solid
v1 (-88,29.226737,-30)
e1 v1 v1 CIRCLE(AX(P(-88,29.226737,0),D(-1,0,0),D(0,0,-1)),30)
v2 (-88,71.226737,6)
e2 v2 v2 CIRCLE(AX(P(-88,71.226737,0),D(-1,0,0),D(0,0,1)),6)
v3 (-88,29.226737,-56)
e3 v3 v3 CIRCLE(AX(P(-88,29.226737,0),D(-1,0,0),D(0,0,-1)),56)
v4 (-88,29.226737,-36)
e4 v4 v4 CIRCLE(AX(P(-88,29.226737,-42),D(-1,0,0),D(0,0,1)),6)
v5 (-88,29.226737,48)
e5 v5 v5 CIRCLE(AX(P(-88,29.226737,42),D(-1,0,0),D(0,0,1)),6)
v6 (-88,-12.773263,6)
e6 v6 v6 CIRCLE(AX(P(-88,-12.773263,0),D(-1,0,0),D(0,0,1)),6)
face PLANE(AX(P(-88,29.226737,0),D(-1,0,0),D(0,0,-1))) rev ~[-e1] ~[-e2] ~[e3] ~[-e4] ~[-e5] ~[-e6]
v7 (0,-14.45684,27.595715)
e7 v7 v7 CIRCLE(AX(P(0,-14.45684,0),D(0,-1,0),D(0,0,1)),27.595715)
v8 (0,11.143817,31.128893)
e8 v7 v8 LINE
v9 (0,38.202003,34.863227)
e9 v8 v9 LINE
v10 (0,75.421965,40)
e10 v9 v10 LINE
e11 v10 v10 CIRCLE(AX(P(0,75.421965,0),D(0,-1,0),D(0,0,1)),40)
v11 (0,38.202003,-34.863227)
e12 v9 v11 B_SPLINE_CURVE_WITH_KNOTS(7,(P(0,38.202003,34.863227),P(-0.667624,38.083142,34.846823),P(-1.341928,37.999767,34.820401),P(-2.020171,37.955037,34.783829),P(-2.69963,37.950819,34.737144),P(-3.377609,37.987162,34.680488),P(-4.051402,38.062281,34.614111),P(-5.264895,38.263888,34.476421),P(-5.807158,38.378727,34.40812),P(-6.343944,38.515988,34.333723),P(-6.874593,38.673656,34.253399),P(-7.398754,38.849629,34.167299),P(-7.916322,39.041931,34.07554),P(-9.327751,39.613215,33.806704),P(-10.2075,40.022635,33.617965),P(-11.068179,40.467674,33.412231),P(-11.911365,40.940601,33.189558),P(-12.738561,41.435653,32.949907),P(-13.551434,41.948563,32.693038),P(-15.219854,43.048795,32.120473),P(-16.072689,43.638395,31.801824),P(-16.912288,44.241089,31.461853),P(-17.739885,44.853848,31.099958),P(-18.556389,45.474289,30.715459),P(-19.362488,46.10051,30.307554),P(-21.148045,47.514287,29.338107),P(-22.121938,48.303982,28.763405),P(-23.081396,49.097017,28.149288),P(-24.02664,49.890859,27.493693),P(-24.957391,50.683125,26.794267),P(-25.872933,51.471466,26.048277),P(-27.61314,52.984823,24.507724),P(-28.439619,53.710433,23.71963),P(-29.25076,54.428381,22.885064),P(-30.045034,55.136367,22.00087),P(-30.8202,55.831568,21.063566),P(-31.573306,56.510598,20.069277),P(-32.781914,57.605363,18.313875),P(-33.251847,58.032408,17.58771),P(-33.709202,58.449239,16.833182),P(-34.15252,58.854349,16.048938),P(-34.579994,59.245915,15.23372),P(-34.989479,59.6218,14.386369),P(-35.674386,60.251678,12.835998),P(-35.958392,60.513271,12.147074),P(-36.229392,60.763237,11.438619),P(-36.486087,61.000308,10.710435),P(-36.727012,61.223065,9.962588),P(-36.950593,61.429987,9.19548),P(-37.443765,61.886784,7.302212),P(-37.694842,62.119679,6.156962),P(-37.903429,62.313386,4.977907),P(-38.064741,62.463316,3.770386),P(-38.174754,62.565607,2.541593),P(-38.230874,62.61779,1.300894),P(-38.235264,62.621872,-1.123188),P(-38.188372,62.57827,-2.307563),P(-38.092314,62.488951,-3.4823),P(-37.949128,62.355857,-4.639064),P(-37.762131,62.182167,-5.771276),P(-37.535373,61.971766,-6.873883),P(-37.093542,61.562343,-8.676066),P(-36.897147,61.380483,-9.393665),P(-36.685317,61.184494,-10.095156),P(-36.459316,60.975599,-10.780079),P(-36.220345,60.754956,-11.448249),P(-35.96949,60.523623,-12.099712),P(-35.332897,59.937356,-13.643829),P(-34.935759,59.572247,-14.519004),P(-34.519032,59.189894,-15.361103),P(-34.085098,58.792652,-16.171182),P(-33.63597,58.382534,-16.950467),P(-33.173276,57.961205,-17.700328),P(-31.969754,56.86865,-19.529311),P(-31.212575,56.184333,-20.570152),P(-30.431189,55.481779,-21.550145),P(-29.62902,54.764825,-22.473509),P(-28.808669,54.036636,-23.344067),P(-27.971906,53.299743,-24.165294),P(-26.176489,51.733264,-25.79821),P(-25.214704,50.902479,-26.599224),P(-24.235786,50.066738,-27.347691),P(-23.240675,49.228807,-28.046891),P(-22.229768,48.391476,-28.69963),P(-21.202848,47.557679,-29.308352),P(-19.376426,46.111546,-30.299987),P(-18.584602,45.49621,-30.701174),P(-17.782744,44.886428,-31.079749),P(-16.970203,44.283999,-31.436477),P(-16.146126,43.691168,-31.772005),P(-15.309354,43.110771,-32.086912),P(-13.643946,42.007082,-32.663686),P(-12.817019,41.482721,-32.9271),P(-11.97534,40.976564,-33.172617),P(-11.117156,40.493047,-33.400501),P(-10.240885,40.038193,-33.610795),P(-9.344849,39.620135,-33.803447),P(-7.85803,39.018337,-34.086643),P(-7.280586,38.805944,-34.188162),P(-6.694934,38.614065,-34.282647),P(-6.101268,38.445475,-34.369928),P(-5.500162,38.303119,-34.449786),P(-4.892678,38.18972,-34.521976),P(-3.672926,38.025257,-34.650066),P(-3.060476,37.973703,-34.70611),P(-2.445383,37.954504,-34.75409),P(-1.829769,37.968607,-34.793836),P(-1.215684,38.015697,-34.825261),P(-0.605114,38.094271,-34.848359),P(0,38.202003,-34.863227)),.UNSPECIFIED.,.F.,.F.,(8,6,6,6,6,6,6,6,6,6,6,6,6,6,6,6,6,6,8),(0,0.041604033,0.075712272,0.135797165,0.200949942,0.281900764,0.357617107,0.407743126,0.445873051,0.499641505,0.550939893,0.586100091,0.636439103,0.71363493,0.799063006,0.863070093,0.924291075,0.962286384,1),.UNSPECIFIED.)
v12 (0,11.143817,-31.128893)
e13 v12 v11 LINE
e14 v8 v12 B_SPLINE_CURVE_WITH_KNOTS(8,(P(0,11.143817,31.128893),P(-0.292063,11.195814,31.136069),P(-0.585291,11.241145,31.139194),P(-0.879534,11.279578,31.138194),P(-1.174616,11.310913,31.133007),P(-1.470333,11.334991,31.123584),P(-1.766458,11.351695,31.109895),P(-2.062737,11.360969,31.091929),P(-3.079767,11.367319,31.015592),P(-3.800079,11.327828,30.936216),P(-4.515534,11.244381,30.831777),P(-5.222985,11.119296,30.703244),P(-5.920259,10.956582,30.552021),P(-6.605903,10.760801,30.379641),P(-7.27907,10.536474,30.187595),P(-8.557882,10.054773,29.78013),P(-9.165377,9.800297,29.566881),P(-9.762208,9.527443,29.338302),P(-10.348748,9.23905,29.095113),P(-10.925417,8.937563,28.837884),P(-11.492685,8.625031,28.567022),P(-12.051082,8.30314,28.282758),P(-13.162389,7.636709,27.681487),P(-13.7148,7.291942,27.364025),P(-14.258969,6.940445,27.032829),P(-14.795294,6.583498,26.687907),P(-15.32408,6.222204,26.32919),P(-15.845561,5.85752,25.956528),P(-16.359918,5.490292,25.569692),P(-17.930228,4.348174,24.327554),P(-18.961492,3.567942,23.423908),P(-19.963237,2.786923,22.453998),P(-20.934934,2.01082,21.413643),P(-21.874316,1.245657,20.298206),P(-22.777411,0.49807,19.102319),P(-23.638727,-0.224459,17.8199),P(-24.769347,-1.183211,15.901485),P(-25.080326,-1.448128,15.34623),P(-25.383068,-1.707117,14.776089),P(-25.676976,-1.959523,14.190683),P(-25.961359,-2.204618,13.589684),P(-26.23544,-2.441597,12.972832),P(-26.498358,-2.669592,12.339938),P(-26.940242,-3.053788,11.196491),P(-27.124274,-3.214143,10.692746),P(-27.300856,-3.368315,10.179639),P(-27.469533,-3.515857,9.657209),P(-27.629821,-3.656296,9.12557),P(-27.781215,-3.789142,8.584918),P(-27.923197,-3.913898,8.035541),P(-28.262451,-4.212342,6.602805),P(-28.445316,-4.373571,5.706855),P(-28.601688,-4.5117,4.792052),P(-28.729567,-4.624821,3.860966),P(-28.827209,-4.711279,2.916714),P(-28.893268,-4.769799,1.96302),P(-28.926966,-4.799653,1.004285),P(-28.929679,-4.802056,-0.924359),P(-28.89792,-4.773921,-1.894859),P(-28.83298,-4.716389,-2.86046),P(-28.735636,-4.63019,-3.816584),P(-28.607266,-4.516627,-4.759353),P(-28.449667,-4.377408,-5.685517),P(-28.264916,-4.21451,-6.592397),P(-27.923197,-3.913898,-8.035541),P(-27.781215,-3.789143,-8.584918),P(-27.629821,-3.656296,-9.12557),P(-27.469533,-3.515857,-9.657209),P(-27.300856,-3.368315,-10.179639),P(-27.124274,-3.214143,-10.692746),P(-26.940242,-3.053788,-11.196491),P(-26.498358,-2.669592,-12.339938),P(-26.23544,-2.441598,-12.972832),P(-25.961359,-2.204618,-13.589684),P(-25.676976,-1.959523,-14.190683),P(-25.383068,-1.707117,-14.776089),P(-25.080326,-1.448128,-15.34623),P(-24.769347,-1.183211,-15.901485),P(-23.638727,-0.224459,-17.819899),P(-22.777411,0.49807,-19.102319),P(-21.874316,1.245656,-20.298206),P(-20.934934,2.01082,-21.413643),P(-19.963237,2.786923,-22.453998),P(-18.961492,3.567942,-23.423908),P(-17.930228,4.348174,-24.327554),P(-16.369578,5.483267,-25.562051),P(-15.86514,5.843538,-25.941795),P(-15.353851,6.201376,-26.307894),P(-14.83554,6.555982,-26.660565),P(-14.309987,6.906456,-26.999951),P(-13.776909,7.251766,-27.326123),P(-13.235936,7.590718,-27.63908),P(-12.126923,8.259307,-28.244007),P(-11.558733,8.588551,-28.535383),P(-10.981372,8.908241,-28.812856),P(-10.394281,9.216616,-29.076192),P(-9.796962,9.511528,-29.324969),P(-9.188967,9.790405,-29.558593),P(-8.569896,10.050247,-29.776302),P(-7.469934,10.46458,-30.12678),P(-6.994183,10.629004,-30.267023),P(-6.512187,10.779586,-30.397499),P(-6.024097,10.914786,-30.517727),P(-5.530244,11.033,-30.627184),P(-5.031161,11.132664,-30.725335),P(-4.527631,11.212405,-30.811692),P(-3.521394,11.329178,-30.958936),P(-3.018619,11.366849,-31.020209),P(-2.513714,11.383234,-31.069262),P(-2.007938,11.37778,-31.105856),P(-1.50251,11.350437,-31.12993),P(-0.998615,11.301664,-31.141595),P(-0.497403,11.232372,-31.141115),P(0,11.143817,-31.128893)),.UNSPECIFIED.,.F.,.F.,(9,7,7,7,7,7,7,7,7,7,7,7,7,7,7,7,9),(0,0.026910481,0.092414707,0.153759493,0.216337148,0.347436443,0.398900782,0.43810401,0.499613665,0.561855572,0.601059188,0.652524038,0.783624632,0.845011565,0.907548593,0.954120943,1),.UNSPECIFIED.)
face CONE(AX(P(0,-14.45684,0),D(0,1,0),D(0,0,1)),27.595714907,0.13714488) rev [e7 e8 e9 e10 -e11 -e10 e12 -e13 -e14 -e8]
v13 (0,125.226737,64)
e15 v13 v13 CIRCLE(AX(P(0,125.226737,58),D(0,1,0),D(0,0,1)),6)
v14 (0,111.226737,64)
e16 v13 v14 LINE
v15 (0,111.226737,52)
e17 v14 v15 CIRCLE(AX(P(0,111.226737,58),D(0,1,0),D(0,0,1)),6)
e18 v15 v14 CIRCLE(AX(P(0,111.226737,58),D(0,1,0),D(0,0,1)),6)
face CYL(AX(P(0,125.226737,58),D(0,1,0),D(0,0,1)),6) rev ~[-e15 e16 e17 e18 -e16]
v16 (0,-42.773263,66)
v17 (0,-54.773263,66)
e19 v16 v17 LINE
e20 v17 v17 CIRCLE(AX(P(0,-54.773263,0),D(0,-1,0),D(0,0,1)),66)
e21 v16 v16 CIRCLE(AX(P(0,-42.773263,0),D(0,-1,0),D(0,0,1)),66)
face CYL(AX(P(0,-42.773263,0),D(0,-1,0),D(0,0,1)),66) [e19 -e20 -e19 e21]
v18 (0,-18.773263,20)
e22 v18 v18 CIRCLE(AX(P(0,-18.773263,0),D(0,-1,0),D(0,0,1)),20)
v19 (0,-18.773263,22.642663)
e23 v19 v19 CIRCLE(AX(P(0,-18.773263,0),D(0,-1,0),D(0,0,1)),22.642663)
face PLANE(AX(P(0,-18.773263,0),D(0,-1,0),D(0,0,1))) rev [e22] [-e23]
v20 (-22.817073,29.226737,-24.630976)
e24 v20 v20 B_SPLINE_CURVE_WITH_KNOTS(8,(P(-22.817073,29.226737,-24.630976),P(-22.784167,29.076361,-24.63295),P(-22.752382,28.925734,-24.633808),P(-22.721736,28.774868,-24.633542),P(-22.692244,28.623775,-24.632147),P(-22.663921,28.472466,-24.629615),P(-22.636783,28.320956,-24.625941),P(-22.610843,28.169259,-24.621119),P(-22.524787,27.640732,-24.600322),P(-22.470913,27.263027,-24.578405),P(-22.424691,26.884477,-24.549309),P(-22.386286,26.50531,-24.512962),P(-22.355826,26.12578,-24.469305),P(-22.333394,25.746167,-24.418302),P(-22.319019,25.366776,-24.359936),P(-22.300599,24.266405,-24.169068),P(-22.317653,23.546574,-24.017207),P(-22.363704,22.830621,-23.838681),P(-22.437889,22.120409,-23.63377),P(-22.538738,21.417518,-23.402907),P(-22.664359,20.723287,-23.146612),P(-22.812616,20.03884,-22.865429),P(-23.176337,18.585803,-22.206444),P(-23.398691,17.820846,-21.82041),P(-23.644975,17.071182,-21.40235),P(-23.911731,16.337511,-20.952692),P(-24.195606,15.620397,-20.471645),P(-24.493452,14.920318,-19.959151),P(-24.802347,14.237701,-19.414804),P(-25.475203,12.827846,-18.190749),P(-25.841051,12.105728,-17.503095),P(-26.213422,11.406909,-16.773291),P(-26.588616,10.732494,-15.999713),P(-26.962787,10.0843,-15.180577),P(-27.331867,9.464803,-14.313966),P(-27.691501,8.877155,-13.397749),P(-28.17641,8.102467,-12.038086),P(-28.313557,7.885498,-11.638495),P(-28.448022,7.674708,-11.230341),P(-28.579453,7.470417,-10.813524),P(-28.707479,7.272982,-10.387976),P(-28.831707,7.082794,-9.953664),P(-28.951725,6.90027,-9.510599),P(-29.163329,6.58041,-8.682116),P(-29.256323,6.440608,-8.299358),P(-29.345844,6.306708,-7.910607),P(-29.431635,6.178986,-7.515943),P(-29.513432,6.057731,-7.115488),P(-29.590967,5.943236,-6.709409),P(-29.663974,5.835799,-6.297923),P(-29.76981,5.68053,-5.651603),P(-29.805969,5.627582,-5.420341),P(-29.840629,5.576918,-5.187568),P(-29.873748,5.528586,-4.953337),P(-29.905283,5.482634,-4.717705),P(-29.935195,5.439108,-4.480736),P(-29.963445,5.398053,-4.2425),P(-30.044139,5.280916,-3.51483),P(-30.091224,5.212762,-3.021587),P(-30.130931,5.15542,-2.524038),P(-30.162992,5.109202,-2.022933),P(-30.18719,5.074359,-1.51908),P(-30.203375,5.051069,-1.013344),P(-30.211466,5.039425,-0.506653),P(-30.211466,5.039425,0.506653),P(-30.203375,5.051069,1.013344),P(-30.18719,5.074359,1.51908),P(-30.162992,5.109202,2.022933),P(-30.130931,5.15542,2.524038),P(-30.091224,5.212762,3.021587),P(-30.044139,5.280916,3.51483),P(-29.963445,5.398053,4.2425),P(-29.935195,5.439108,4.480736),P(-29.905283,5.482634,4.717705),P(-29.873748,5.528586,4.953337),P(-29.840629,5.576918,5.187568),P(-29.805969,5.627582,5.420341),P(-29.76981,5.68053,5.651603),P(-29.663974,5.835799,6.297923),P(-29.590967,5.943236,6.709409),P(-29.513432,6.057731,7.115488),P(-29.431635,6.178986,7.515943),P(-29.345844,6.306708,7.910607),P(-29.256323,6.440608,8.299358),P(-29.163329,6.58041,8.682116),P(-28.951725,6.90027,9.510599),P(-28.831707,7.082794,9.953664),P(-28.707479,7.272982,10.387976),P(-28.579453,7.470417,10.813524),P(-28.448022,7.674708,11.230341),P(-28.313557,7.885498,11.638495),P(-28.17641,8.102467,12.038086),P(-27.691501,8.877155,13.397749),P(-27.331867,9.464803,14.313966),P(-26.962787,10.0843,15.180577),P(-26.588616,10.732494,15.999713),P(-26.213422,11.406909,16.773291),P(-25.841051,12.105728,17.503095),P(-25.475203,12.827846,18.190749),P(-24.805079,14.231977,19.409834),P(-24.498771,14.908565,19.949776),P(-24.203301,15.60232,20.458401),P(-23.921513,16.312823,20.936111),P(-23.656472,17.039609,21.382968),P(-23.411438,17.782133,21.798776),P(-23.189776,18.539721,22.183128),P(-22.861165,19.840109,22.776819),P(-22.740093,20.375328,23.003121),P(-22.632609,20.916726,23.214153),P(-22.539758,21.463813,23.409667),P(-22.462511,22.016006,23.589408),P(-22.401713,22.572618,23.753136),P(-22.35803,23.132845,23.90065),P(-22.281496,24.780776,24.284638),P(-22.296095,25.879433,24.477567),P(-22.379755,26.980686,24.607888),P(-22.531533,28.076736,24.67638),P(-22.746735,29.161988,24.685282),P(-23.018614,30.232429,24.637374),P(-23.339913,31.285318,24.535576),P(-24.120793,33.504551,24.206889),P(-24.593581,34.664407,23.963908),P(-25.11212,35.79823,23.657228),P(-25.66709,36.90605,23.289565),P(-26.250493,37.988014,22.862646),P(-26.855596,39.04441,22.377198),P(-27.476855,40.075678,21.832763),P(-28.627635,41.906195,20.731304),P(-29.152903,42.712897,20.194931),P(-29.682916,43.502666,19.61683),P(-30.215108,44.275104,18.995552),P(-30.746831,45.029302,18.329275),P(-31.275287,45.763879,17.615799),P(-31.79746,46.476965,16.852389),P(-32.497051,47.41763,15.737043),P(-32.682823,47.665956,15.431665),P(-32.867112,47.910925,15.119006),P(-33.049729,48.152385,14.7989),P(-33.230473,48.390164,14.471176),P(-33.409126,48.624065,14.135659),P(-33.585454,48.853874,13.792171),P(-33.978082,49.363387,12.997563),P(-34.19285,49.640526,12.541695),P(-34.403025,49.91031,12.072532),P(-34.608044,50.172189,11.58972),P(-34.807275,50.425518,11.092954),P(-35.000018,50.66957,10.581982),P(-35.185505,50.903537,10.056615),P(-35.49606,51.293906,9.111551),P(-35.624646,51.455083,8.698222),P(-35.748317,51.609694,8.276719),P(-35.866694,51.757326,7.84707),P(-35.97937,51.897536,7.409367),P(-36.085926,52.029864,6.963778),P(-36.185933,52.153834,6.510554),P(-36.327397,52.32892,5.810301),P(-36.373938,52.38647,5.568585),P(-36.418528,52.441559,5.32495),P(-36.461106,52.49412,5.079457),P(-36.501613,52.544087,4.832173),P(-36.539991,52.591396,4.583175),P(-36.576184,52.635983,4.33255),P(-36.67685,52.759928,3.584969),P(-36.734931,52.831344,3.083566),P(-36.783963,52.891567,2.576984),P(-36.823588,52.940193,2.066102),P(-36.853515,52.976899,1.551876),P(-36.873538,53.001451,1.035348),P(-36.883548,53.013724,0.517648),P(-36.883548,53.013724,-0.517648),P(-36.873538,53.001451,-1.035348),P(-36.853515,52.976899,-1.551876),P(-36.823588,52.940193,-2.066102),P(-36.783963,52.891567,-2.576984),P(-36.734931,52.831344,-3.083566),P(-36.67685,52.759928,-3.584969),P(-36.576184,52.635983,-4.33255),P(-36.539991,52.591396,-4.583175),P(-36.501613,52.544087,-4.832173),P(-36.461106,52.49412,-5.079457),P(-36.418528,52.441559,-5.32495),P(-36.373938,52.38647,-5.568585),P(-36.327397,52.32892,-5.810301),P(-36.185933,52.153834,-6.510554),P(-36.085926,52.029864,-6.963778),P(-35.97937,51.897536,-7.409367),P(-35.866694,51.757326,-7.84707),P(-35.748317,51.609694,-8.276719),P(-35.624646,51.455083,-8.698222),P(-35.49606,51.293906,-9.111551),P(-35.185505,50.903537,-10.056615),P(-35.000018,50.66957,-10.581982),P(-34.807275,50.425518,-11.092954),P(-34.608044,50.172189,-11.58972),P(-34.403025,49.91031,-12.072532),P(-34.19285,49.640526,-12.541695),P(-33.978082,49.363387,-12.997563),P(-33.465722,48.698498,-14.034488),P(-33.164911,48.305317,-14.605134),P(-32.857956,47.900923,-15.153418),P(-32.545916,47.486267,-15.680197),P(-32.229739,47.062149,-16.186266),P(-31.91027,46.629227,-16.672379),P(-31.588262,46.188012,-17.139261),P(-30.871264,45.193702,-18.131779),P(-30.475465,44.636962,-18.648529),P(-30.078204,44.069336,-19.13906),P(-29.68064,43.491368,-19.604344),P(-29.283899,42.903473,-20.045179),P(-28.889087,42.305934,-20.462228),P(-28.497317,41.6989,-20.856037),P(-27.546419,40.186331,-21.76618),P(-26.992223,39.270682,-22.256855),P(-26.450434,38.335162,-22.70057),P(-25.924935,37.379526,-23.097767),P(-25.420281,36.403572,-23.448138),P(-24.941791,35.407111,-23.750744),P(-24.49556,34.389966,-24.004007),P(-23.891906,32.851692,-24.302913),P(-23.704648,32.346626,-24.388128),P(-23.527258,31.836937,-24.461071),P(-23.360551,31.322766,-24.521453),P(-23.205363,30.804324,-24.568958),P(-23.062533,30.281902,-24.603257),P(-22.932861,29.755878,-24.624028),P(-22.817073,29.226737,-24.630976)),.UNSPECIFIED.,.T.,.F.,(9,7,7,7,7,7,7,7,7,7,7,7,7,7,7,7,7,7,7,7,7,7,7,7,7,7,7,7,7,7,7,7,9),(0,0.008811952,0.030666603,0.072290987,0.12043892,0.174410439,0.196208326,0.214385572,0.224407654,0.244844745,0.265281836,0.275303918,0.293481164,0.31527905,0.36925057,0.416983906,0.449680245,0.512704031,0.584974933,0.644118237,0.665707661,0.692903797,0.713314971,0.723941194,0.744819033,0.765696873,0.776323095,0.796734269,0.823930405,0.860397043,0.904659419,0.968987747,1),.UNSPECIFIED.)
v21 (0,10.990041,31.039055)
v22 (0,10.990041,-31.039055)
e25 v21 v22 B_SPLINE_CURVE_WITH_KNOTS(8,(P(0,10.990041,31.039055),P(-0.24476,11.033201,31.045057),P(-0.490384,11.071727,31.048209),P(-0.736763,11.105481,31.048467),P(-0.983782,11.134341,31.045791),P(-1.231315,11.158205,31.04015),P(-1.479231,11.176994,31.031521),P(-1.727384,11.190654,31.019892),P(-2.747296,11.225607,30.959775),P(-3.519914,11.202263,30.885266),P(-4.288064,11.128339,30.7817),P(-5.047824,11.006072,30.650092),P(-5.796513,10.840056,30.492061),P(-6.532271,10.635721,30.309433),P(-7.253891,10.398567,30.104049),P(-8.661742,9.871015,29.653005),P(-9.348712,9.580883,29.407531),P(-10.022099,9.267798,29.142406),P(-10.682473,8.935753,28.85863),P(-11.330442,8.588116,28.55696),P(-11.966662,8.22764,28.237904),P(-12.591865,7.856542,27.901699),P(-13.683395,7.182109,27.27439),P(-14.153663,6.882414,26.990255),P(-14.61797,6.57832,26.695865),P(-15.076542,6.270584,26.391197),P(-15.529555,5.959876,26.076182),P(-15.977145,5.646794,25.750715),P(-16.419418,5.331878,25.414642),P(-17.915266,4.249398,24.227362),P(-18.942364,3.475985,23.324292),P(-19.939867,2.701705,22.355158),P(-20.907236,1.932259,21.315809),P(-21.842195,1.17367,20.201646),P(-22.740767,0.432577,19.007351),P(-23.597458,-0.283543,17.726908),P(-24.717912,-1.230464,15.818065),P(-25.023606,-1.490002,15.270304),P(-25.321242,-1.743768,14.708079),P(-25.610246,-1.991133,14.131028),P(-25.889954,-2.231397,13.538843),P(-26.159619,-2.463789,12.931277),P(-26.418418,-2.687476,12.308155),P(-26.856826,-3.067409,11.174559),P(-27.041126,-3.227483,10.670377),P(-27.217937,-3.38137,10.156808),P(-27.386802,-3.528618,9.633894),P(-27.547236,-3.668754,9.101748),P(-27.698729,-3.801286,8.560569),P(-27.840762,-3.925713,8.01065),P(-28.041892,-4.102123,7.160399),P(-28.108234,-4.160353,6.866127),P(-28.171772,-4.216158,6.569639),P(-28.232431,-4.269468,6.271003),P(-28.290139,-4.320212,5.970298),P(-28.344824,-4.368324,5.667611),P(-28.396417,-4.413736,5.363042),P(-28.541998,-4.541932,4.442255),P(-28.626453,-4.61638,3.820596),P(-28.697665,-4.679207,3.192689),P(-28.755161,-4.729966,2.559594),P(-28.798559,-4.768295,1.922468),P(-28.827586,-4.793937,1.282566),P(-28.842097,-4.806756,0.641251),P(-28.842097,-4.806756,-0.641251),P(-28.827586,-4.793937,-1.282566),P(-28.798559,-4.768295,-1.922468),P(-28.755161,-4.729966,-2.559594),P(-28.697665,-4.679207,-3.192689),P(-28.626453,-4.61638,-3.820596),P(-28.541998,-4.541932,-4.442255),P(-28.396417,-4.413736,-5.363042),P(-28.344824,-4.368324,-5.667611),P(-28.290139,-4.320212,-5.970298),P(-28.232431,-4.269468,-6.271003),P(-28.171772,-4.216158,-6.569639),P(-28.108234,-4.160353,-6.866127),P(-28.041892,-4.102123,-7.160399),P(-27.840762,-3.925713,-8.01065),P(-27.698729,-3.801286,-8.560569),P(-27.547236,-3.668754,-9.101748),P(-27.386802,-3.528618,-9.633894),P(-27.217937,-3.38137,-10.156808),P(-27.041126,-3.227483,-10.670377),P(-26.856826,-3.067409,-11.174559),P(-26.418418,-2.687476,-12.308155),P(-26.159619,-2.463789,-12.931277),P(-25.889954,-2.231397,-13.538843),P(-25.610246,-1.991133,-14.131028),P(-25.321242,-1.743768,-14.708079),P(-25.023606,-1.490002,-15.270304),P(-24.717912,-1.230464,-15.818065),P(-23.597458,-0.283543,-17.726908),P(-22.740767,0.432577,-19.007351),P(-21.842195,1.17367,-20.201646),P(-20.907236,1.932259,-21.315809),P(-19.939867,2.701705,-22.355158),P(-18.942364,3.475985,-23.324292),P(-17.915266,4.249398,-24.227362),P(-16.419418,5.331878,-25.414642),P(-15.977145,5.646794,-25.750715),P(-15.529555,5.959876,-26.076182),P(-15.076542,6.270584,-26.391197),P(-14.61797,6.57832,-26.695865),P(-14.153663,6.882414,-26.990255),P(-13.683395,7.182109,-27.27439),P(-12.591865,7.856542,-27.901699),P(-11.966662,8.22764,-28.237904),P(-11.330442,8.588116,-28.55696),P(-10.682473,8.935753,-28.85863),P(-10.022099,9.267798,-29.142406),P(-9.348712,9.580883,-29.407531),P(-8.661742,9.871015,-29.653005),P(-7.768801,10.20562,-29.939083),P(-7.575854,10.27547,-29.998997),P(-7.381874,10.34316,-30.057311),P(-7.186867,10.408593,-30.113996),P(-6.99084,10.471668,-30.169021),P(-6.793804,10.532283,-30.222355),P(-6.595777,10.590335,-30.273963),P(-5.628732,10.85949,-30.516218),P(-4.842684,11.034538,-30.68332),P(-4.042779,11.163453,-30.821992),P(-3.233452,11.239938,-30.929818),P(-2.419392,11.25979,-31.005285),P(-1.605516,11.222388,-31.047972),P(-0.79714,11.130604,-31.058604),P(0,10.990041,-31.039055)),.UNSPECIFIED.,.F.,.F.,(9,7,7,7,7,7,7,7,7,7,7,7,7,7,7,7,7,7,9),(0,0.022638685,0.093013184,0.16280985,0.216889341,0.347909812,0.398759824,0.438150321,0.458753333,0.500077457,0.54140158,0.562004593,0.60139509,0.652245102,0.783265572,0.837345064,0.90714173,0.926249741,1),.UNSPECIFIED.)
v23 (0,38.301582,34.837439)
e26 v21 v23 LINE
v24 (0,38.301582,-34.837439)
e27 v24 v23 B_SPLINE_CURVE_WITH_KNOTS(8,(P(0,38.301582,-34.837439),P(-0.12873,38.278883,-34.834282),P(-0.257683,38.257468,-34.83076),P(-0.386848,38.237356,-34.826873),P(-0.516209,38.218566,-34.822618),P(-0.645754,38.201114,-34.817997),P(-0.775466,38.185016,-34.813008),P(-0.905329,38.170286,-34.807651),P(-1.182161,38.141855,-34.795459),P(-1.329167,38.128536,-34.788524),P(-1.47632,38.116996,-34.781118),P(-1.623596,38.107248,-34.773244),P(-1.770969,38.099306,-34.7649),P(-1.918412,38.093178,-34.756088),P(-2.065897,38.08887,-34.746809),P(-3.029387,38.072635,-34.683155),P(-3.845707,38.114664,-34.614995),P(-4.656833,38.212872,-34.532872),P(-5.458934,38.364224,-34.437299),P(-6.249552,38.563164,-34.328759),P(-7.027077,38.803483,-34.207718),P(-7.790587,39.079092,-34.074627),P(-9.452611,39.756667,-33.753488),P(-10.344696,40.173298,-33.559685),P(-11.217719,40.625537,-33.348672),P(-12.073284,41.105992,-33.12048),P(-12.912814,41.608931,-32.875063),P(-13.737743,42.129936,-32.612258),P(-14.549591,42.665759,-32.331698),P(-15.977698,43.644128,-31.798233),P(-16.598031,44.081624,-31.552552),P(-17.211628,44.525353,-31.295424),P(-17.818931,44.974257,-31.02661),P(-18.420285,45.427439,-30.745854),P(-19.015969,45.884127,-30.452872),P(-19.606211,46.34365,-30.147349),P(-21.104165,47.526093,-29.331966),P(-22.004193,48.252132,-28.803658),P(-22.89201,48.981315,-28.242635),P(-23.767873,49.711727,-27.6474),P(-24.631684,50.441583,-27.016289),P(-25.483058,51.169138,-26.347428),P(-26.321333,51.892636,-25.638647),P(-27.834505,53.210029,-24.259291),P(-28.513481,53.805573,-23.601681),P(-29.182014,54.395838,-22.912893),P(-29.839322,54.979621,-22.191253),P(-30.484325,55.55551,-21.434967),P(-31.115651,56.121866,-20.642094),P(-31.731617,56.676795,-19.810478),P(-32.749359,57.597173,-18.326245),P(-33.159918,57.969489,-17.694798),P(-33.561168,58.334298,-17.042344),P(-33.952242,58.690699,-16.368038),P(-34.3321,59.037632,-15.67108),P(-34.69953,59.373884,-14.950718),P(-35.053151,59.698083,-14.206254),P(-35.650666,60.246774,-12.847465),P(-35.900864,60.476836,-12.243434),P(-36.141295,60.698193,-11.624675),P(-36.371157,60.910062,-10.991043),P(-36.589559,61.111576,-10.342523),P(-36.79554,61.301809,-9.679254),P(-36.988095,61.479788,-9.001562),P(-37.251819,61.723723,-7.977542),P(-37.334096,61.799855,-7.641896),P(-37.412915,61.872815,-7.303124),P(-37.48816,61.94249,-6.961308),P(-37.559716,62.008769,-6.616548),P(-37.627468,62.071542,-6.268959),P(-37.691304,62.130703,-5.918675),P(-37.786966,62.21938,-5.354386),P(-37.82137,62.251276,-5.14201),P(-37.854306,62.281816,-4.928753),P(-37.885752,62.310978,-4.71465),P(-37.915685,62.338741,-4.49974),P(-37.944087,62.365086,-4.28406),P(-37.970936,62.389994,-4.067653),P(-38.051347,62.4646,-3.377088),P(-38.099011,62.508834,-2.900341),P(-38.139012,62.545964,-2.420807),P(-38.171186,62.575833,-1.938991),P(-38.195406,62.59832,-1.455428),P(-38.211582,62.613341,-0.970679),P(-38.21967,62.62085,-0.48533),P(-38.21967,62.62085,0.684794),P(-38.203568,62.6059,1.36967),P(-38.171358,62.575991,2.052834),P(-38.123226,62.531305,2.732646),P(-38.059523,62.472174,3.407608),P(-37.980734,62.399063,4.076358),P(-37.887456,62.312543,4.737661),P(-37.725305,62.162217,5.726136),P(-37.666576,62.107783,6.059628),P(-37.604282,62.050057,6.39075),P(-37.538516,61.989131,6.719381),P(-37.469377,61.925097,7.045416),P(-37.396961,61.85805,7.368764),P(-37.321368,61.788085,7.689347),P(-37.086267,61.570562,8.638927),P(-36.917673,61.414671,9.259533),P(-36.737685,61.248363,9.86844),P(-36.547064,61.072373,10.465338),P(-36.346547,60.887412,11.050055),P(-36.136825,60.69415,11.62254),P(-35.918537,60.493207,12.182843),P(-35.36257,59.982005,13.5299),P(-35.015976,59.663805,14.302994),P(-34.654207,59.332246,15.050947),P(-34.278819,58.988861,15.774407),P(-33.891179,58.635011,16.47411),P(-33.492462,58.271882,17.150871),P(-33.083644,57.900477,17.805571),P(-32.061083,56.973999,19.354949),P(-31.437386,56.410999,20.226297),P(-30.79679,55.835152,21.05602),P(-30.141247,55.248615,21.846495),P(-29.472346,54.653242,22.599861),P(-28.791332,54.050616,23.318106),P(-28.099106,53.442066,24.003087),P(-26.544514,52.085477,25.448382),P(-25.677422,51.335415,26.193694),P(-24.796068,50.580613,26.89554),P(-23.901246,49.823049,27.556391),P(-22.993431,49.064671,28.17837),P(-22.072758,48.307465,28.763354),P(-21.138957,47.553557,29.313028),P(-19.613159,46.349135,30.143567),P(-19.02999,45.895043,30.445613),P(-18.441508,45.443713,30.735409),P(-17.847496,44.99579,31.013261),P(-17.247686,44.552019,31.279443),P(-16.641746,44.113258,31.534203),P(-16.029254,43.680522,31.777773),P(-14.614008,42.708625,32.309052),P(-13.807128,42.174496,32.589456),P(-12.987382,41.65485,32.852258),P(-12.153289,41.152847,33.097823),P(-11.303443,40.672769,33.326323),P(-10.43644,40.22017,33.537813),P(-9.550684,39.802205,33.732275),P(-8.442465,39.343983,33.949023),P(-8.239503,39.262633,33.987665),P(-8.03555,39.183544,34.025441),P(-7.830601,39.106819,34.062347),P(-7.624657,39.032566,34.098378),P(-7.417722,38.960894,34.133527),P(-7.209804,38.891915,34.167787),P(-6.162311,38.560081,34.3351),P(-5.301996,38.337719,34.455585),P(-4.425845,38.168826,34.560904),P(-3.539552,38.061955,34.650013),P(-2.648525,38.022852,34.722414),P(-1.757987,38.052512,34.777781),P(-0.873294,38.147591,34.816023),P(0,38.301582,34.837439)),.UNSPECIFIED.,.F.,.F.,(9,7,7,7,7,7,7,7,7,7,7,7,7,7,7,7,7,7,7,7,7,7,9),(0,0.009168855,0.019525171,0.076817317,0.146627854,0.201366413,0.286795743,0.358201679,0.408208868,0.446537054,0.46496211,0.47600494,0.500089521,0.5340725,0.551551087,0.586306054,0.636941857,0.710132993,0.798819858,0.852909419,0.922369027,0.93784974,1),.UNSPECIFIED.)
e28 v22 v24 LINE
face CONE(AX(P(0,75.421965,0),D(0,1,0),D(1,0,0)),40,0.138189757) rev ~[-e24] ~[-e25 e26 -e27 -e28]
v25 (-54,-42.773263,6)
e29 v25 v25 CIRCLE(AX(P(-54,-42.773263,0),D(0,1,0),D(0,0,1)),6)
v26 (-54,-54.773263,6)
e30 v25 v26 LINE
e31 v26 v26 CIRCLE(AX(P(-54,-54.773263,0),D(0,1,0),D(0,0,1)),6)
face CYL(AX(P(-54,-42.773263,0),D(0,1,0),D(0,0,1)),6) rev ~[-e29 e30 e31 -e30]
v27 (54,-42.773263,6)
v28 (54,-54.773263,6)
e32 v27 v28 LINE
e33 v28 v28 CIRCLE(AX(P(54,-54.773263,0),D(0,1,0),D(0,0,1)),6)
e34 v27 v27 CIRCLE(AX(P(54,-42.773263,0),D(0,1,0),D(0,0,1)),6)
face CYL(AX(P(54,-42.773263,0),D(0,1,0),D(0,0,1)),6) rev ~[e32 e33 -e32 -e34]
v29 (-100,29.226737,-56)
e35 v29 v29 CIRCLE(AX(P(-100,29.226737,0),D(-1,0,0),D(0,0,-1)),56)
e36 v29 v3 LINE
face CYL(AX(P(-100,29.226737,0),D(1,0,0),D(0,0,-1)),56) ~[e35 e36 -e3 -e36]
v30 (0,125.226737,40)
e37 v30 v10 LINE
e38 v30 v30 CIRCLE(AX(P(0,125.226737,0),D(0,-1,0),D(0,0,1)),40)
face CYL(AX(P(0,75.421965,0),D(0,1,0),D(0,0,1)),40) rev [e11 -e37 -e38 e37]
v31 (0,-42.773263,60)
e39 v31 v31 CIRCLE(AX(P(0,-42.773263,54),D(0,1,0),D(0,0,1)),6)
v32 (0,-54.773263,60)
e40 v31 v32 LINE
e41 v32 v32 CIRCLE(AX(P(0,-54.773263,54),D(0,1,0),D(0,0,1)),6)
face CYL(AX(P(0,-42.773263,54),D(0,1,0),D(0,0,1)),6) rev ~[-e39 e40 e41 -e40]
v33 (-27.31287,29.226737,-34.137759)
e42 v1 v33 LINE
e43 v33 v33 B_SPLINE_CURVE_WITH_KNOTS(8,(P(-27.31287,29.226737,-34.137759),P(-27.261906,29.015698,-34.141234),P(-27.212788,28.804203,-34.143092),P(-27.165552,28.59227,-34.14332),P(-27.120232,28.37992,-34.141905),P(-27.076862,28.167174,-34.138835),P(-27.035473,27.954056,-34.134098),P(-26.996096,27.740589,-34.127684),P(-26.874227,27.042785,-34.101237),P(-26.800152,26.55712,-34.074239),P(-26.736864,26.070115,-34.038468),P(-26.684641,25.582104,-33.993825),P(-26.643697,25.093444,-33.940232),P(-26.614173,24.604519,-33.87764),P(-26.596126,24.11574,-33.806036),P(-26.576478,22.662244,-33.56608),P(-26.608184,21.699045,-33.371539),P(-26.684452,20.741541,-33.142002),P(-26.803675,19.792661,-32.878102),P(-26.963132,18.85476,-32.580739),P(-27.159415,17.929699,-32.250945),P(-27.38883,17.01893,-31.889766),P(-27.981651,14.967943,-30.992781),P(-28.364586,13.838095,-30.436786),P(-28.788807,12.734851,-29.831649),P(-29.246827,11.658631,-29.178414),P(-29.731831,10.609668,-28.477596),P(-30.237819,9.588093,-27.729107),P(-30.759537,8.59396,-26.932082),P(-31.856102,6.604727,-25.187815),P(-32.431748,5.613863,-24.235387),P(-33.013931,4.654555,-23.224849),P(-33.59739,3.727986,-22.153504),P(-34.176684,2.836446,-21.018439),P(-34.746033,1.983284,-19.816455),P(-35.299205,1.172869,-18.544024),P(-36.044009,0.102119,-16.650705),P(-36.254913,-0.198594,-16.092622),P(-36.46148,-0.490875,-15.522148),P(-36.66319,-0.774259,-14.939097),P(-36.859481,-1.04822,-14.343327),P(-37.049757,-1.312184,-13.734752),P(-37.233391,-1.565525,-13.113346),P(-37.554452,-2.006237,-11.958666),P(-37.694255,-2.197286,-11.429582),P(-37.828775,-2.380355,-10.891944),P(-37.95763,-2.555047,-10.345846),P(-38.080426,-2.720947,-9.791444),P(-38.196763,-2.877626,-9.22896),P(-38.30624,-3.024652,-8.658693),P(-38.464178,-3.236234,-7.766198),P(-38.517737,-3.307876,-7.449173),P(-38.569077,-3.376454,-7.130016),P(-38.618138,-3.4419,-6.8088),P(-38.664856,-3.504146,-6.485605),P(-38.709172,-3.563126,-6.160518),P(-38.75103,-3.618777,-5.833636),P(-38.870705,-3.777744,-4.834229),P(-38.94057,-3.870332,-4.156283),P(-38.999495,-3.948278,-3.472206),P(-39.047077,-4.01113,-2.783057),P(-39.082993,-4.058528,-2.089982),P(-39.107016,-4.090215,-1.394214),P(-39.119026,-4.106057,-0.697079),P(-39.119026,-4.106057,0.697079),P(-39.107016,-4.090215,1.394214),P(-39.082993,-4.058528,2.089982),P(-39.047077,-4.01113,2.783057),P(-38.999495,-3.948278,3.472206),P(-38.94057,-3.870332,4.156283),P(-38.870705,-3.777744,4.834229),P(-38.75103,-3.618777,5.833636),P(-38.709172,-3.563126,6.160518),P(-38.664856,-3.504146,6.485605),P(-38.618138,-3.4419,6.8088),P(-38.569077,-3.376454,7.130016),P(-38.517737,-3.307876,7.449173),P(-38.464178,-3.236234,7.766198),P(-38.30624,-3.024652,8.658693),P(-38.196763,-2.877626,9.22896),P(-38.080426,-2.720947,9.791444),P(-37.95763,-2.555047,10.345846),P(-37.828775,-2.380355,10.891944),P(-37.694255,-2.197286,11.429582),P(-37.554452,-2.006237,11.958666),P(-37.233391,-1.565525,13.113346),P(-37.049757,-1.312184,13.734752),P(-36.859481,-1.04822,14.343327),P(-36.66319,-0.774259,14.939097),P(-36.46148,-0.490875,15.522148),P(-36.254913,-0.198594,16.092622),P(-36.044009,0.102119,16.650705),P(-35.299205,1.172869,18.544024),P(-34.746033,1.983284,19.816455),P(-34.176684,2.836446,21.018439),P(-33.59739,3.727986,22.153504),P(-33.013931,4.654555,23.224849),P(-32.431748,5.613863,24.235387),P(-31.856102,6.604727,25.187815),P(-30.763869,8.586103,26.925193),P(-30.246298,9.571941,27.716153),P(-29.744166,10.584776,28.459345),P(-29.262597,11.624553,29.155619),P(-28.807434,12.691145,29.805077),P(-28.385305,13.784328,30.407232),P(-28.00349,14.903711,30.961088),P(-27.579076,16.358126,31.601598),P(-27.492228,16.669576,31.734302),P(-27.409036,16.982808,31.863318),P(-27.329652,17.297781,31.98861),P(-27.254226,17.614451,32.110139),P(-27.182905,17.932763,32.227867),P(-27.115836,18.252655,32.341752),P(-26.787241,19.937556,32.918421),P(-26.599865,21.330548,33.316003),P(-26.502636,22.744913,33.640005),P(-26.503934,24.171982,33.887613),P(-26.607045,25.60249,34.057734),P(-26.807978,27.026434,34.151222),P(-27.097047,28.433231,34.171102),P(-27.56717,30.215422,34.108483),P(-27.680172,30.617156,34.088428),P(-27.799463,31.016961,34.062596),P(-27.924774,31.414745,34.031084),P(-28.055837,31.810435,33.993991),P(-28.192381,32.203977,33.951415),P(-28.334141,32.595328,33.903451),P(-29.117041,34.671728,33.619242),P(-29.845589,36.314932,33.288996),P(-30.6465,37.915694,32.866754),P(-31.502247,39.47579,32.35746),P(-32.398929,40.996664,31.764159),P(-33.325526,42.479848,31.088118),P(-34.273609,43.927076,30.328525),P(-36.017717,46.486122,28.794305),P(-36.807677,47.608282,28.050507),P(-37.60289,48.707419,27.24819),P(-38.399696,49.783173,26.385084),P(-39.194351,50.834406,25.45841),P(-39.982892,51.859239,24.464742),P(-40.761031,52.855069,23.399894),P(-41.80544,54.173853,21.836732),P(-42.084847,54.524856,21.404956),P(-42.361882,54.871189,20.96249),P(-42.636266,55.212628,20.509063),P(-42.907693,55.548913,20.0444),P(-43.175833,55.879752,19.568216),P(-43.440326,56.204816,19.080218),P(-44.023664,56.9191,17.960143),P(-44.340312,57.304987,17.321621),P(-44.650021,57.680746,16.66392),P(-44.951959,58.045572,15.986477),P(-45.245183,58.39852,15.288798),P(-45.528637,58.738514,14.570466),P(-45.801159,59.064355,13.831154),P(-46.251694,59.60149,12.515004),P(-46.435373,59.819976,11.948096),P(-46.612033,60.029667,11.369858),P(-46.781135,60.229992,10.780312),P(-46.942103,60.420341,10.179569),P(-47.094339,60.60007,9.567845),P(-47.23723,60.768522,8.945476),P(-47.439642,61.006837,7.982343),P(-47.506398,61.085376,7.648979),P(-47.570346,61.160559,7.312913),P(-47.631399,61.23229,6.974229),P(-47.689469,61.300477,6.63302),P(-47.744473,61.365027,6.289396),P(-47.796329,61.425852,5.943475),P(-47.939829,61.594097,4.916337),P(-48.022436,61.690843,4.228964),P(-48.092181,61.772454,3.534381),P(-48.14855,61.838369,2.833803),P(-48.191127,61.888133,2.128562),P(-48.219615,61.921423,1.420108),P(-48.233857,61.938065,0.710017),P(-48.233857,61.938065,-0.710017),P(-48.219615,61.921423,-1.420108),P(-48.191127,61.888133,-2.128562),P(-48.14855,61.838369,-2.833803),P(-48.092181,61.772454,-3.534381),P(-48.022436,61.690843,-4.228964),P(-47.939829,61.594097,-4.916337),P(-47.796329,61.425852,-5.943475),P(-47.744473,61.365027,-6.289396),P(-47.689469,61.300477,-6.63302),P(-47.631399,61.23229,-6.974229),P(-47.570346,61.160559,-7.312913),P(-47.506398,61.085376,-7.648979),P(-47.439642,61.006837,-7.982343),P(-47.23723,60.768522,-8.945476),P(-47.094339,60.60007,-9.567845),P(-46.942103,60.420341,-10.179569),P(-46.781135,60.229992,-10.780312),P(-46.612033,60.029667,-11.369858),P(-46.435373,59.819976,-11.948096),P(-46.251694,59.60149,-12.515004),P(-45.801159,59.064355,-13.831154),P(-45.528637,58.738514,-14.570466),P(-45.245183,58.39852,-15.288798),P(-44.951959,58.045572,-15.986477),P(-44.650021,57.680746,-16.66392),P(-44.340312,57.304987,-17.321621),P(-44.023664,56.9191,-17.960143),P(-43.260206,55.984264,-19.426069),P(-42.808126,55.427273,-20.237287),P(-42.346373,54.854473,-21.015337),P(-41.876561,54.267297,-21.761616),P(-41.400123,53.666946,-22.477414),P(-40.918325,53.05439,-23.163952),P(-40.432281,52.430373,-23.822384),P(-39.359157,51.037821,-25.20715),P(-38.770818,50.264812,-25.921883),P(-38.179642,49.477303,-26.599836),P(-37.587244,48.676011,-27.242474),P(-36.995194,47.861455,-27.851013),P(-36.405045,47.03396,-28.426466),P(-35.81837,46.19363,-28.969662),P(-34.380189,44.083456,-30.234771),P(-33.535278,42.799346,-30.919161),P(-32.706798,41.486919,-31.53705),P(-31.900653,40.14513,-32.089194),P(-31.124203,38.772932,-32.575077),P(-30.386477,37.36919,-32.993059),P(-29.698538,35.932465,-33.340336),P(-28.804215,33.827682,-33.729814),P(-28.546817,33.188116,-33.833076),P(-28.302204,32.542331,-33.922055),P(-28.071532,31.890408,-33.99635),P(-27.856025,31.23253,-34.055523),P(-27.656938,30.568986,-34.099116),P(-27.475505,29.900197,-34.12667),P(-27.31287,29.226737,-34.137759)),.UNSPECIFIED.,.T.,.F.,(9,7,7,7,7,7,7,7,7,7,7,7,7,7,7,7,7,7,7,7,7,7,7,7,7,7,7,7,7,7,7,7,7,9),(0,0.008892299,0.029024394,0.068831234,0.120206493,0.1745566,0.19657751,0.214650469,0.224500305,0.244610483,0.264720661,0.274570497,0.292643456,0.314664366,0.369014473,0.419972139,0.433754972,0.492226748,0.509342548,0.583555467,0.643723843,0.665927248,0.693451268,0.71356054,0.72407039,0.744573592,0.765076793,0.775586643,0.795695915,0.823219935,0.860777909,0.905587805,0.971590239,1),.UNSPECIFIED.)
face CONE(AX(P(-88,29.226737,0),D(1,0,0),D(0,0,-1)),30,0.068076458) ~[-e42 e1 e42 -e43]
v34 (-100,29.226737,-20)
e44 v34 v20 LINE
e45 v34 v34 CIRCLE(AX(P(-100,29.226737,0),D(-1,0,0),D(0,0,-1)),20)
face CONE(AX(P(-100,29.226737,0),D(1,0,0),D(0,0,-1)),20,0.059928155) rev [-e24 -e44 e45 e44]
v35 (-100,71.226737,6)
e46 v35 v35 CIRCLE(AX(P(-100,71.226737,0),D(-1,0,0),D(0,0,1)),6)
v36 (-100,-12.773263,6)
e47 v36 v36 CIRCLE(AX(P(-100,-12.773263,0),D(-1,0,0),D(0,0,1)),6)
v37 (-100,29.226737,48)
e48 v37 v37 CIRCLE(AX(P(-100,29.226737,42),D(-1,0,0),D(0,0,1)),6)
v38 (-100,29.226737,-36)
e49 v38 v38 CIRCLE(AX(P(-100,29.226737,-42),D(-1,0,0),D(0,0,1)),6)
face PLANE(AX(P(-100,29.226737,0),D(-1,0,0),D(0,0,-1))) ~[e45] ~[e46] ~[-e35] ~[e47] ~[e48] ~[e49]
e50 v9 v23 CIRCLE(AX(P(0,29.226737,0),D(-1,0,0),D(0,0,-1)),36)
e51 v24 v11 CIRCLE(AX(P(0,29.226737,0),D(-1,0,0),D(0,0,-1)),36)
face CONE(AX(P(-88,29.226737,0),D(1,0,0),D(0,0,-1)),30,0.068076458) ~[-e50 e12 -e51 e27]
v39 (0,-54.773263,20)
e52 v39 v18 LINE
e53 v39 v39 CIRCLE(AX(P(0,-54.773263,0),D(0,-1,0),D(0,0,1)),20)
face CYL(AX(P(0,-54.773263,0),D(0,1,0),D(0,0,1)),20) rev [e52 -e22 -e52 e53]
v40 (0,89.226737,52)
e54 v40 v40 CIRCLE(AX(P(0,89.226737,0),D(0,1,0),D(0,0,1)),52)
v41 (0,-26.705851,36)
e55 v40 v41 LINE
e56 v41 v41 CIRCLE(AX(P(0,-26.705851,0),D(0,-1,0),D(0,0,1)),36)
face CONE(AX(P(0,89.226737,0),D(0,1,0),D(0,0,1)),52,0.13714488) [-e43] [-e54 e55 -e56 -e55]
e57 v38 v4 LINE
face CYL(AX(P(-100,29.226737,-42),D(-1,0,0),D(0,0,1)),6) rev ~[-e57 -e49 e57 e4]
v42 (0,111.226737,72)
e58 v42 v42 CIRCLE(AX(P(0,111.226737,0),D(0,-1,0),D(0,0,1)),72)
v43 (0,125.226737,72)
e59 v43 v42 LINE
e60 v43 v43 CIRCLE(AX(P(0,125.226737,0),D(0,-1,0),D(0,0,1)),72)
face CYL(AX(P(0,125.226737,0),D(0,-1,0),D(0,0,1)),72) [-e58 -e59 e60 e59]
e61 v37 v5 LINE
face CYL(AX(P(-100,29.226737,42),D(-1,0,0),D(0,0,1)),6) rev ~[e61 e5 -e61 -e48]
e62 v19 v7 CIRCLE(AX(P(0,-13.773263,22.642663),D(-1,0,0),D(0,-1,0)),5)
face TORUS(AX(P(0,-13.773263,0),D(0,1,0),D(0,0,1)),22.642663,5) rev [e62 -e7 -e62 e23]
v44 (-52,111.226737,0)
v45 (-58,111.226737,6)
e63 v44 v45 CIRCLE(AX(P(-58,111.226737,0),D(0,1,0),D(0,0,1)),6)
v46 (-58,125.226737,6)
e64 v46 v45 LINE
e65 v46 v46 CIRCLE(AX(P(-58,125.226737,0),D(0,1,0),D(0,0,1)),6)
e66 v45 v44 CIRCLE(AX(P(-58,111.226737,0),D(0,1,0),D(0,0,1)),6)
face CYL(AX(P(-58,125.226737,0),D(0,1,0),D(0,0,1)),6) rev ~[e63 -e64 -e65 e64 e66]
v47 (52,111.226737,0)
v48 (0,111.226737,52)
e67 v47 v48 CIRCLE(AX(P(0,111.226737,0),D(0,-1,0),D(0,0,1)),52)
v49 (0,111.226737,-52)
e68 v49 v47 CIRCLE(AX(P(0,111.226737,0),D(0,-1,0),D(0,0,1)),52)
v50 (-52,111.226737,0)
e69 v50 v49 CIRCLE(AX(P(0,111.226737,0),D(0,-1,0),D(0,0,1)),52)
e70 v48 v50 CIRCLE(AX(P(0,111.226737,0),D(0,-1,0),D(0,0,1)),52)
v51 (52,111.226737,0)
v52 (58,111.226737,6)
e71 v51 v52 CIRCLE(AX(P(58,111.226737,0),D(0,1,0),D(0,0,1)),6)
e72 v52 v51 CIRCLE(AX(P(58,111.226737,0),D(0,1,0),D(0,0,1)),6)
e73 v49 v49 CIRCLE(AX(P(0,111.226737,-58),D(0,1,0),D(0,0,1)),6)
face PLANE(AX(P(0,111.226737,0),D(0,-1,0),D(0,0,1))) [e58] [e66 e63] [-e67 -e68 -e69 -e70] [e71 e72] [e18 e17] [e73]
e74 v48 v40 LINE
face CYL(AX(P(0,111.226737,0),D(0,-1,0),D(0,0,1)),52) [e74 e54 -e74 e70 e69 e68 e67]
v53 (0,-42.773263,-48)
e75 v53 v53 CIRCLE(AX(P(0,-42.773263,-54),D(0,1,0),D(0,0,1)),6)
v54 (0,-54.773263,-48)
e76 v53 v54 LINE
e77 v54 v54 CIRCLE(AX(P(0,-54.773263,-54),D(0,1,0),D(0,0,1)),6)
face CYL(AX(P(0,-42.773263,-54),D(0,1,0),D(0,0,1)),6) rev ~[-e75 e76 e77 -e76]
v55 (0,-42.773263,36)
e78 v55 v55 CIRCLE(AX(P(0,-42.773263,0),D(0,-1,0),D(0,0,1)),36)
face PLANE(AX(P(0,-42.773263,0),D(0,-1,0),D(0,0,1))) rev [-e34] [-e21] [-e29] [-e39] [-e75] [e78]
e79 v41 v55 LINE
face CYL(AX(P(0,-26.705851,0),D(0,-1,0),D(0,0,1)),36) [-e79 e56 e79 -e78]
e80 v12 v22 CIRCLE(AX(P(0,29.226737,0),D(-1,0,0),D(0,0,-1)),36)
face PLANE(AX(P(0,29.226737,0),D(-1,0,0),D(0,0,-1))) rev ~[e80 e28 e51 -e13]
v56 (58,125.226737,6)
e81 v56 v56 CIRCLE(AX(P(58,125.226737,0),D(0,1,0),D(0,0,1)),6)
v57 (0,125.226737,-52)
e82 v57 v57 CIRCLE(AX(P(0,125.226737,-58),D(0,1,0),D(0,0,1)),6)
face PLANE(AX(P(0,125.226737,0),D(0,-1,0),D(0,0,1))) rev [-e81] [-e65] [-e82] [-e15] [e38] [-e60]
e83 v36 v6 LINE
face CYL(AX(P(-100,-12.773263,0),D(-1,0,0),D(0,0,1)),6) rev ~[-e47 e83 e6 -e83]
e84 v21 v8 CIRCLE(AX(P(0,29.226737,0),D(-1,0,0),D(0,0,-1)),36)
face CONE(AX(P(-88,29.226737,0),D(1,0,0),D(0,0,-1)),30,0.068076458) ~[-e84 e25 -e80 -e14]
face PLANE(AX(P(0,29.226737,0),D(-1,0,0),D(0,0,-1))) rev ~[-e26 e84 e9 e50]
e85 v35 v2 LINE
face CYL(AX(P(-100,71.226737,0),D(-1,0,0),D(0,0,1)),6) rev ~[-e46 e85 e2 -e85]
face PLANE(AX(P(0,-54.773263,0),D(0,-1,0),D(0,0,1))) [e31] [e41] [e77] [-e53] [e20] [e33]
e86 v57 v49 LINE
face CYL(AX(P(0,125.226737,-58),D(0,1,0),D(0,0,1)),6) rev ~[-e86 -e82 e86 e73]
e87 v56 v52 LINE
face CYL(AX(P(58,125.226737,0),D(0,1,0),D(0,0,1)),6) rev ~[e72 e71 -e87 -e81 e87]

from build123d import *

# Parameters (mm, degrees)
SKETCH2_R          = 6
CUT_EXTRUDE1_DEPTH = 108
SKETCH3_R          = 6
CUT_EXTRUDE2_DEPTH = 108
SKETCH7_R          = 6
CUT_EXTRUDE3_DEPTH = 25


with BuildPart() as part:
    # Sketch1 → Revolve1 (revolve)
    with BuildSketch(Plane.XY, mode=Mode.PRIVATE) as revolve1_sk:
        with BuildLine():
            Line((40, 125.226737055), (72, 125.226737055))
            Line((72, 125.226737055), (72, 111.226737055))
            Line((72, 111.226737055), (52, 111.226737055))
            Line((52, 111.226737055), (52, 89.226737055))
            Line((52, 89.226737055), (36, -26.705850917))
            Line((36, -26.705850917), (36, -42.773262945))
            Line((36, -42.773262945), (66, -42.773262945))
            Line((66, -42.773262945), (66, -54.773262945))
            Line((66, -54.773262945), (20, -54.773262945))
            Line((20, -54.773262945), (20, -18.773262945))
            Line((20, -18.773262945), (22.642663047, -18.773262945))
            ThreePointArc((22.642663047, -18.773262945), (25.927637621, -17.542737981), (27.595714907, -14.456839764))
            Line((27.595714907, -14.456839764), (40, 75.421964782))
            Line((40, 75.421964782), (40, 125.226737055))
        make_face()
    revolve(revolve1_sk.sketch.rotate(Axis((0, 125.226737055, 0), (0, -1, 0)), 90), axis=Axis((0, 125.226737055, 0), (0, -1, 0)))

    # Sketch2 → Cut-Extrude1 (cut)
    with BuildSketch(Plane(origin=(0, -42.773262945, 0), x_dir=(1, 0, 0), z_dir=(0, 1, 0))):
        with Locations(Location((0, 54, 0), (0, 0, 270))):
            Circle(SKETCH2_R)
        with Locations(Location((54, 0, 0), (0, 0, 270))):
            Circle(SKETCH2_R)
        with Locations(Location((0, -54, 0), (0, 0, 270))):
            Circle(SKETCH2_R)
        with Locations(Location((-54, 0, 0), (0, 0, 270))):
            Circle(SKETCH2_R)
    extrude(amount=-CUT_EXTRUDE1_DEPTH, mode=Mode.SUBTRACT)

    # Sketch3 → Cut-Extrude2 (cut)
    with BuildSketch(Plane(origin=(0, 125.226737055, 0), x_dir=(1, 0, 0), z_dir=(0, 1, 0))):
        with Locations(Location((0, 58, 0), (0, 0, 270))):
            Circle(SKETCH3_R)
        with Locations(Location((58, 0, 0), (0, 0, 270))):
            Circle(SKETCH3_R)
        with Locations(Location((0, -58, 0), (0, 0, 270))):
            Circle(SKETCH3_R)
        with Locations(Location((-58, 0, 0), (0, 0, 270))):
            Circle(SKETCH3_R)
    extrude(amount=-CUT_EXTRUDE2_DEPTH, mode=Mode.SUBTRACT)

    # Sketch4 → Revolve2 (revolve)
    with BuildSketch(Plane.XY, mode=Mode.PRIVATE) as revolve2_sk:
        Polygon((-100, 29.226737055), (-100, 85.226737055), (-88, 85.226737055), (-88, 59.226737055), (0, 65.226737055), (0, 29.226737055), align=None)
    revolve(revolve2_sk.sketch.rotate(Axis((0, 29.226737055, 0), (-1, 0, 0)), 90), axis=Axis((0, 29.226737055, 0), (-1, 0, 0)))

    # Sketch5 → Cut-Revolve2 (revolve, cut)
    with BuildSketch(Plane.XY):
        Polygon((0, 111.226737055), (40, 111.226737055), (40, 75.421964782), (27.5, -14.456839764), (0, -14.456839764), align=None)
    revolve(axis=Axis((0, 125.226737055, 0), (0, -1, 0)), mode=Mode.SUBTRACT)

    # Sketch6 → Cut-Revolve3 (revolve, cut)
    with BuildSketch(Plane.XY, mode=Mode.PRIVATE) as cut_revolve3_sk:
        Polygon((0, 29.226737055), (-100, 29.226737055), (-100, 49.226737055), (0, 55.226737055), align=None)
    revolve(cut_revolve3_sk.sketch.rotate(Axis((0, 29.226737055, 0), (-1, 0, 0)), 90), axis=Axis((0, 29.226737055, 0), (-1, 0, 0)), mode=Mode.SUBTRACT)

    # Sketch7 → Cut-Extrude3 (cut)
    with BuildSketch(Plane.ZY.offset(100)):
        with Locations((0, 71.226737055)):
            Circle(SKETCH7_R)
        with Locations((42, 29.226737055)):
            Circle(SKETCH7_R)
        with Locations((0, -12.773262945)):
            Circle(SKETCH7_R)
        with Locations((-42, 29.226737055)):
            Circle(SKETCH7_R)
    extrude(amount=-CUT_EXTRUDE3_DEPTH, mode=Mode.SUBTRACT)


solid = part.part
